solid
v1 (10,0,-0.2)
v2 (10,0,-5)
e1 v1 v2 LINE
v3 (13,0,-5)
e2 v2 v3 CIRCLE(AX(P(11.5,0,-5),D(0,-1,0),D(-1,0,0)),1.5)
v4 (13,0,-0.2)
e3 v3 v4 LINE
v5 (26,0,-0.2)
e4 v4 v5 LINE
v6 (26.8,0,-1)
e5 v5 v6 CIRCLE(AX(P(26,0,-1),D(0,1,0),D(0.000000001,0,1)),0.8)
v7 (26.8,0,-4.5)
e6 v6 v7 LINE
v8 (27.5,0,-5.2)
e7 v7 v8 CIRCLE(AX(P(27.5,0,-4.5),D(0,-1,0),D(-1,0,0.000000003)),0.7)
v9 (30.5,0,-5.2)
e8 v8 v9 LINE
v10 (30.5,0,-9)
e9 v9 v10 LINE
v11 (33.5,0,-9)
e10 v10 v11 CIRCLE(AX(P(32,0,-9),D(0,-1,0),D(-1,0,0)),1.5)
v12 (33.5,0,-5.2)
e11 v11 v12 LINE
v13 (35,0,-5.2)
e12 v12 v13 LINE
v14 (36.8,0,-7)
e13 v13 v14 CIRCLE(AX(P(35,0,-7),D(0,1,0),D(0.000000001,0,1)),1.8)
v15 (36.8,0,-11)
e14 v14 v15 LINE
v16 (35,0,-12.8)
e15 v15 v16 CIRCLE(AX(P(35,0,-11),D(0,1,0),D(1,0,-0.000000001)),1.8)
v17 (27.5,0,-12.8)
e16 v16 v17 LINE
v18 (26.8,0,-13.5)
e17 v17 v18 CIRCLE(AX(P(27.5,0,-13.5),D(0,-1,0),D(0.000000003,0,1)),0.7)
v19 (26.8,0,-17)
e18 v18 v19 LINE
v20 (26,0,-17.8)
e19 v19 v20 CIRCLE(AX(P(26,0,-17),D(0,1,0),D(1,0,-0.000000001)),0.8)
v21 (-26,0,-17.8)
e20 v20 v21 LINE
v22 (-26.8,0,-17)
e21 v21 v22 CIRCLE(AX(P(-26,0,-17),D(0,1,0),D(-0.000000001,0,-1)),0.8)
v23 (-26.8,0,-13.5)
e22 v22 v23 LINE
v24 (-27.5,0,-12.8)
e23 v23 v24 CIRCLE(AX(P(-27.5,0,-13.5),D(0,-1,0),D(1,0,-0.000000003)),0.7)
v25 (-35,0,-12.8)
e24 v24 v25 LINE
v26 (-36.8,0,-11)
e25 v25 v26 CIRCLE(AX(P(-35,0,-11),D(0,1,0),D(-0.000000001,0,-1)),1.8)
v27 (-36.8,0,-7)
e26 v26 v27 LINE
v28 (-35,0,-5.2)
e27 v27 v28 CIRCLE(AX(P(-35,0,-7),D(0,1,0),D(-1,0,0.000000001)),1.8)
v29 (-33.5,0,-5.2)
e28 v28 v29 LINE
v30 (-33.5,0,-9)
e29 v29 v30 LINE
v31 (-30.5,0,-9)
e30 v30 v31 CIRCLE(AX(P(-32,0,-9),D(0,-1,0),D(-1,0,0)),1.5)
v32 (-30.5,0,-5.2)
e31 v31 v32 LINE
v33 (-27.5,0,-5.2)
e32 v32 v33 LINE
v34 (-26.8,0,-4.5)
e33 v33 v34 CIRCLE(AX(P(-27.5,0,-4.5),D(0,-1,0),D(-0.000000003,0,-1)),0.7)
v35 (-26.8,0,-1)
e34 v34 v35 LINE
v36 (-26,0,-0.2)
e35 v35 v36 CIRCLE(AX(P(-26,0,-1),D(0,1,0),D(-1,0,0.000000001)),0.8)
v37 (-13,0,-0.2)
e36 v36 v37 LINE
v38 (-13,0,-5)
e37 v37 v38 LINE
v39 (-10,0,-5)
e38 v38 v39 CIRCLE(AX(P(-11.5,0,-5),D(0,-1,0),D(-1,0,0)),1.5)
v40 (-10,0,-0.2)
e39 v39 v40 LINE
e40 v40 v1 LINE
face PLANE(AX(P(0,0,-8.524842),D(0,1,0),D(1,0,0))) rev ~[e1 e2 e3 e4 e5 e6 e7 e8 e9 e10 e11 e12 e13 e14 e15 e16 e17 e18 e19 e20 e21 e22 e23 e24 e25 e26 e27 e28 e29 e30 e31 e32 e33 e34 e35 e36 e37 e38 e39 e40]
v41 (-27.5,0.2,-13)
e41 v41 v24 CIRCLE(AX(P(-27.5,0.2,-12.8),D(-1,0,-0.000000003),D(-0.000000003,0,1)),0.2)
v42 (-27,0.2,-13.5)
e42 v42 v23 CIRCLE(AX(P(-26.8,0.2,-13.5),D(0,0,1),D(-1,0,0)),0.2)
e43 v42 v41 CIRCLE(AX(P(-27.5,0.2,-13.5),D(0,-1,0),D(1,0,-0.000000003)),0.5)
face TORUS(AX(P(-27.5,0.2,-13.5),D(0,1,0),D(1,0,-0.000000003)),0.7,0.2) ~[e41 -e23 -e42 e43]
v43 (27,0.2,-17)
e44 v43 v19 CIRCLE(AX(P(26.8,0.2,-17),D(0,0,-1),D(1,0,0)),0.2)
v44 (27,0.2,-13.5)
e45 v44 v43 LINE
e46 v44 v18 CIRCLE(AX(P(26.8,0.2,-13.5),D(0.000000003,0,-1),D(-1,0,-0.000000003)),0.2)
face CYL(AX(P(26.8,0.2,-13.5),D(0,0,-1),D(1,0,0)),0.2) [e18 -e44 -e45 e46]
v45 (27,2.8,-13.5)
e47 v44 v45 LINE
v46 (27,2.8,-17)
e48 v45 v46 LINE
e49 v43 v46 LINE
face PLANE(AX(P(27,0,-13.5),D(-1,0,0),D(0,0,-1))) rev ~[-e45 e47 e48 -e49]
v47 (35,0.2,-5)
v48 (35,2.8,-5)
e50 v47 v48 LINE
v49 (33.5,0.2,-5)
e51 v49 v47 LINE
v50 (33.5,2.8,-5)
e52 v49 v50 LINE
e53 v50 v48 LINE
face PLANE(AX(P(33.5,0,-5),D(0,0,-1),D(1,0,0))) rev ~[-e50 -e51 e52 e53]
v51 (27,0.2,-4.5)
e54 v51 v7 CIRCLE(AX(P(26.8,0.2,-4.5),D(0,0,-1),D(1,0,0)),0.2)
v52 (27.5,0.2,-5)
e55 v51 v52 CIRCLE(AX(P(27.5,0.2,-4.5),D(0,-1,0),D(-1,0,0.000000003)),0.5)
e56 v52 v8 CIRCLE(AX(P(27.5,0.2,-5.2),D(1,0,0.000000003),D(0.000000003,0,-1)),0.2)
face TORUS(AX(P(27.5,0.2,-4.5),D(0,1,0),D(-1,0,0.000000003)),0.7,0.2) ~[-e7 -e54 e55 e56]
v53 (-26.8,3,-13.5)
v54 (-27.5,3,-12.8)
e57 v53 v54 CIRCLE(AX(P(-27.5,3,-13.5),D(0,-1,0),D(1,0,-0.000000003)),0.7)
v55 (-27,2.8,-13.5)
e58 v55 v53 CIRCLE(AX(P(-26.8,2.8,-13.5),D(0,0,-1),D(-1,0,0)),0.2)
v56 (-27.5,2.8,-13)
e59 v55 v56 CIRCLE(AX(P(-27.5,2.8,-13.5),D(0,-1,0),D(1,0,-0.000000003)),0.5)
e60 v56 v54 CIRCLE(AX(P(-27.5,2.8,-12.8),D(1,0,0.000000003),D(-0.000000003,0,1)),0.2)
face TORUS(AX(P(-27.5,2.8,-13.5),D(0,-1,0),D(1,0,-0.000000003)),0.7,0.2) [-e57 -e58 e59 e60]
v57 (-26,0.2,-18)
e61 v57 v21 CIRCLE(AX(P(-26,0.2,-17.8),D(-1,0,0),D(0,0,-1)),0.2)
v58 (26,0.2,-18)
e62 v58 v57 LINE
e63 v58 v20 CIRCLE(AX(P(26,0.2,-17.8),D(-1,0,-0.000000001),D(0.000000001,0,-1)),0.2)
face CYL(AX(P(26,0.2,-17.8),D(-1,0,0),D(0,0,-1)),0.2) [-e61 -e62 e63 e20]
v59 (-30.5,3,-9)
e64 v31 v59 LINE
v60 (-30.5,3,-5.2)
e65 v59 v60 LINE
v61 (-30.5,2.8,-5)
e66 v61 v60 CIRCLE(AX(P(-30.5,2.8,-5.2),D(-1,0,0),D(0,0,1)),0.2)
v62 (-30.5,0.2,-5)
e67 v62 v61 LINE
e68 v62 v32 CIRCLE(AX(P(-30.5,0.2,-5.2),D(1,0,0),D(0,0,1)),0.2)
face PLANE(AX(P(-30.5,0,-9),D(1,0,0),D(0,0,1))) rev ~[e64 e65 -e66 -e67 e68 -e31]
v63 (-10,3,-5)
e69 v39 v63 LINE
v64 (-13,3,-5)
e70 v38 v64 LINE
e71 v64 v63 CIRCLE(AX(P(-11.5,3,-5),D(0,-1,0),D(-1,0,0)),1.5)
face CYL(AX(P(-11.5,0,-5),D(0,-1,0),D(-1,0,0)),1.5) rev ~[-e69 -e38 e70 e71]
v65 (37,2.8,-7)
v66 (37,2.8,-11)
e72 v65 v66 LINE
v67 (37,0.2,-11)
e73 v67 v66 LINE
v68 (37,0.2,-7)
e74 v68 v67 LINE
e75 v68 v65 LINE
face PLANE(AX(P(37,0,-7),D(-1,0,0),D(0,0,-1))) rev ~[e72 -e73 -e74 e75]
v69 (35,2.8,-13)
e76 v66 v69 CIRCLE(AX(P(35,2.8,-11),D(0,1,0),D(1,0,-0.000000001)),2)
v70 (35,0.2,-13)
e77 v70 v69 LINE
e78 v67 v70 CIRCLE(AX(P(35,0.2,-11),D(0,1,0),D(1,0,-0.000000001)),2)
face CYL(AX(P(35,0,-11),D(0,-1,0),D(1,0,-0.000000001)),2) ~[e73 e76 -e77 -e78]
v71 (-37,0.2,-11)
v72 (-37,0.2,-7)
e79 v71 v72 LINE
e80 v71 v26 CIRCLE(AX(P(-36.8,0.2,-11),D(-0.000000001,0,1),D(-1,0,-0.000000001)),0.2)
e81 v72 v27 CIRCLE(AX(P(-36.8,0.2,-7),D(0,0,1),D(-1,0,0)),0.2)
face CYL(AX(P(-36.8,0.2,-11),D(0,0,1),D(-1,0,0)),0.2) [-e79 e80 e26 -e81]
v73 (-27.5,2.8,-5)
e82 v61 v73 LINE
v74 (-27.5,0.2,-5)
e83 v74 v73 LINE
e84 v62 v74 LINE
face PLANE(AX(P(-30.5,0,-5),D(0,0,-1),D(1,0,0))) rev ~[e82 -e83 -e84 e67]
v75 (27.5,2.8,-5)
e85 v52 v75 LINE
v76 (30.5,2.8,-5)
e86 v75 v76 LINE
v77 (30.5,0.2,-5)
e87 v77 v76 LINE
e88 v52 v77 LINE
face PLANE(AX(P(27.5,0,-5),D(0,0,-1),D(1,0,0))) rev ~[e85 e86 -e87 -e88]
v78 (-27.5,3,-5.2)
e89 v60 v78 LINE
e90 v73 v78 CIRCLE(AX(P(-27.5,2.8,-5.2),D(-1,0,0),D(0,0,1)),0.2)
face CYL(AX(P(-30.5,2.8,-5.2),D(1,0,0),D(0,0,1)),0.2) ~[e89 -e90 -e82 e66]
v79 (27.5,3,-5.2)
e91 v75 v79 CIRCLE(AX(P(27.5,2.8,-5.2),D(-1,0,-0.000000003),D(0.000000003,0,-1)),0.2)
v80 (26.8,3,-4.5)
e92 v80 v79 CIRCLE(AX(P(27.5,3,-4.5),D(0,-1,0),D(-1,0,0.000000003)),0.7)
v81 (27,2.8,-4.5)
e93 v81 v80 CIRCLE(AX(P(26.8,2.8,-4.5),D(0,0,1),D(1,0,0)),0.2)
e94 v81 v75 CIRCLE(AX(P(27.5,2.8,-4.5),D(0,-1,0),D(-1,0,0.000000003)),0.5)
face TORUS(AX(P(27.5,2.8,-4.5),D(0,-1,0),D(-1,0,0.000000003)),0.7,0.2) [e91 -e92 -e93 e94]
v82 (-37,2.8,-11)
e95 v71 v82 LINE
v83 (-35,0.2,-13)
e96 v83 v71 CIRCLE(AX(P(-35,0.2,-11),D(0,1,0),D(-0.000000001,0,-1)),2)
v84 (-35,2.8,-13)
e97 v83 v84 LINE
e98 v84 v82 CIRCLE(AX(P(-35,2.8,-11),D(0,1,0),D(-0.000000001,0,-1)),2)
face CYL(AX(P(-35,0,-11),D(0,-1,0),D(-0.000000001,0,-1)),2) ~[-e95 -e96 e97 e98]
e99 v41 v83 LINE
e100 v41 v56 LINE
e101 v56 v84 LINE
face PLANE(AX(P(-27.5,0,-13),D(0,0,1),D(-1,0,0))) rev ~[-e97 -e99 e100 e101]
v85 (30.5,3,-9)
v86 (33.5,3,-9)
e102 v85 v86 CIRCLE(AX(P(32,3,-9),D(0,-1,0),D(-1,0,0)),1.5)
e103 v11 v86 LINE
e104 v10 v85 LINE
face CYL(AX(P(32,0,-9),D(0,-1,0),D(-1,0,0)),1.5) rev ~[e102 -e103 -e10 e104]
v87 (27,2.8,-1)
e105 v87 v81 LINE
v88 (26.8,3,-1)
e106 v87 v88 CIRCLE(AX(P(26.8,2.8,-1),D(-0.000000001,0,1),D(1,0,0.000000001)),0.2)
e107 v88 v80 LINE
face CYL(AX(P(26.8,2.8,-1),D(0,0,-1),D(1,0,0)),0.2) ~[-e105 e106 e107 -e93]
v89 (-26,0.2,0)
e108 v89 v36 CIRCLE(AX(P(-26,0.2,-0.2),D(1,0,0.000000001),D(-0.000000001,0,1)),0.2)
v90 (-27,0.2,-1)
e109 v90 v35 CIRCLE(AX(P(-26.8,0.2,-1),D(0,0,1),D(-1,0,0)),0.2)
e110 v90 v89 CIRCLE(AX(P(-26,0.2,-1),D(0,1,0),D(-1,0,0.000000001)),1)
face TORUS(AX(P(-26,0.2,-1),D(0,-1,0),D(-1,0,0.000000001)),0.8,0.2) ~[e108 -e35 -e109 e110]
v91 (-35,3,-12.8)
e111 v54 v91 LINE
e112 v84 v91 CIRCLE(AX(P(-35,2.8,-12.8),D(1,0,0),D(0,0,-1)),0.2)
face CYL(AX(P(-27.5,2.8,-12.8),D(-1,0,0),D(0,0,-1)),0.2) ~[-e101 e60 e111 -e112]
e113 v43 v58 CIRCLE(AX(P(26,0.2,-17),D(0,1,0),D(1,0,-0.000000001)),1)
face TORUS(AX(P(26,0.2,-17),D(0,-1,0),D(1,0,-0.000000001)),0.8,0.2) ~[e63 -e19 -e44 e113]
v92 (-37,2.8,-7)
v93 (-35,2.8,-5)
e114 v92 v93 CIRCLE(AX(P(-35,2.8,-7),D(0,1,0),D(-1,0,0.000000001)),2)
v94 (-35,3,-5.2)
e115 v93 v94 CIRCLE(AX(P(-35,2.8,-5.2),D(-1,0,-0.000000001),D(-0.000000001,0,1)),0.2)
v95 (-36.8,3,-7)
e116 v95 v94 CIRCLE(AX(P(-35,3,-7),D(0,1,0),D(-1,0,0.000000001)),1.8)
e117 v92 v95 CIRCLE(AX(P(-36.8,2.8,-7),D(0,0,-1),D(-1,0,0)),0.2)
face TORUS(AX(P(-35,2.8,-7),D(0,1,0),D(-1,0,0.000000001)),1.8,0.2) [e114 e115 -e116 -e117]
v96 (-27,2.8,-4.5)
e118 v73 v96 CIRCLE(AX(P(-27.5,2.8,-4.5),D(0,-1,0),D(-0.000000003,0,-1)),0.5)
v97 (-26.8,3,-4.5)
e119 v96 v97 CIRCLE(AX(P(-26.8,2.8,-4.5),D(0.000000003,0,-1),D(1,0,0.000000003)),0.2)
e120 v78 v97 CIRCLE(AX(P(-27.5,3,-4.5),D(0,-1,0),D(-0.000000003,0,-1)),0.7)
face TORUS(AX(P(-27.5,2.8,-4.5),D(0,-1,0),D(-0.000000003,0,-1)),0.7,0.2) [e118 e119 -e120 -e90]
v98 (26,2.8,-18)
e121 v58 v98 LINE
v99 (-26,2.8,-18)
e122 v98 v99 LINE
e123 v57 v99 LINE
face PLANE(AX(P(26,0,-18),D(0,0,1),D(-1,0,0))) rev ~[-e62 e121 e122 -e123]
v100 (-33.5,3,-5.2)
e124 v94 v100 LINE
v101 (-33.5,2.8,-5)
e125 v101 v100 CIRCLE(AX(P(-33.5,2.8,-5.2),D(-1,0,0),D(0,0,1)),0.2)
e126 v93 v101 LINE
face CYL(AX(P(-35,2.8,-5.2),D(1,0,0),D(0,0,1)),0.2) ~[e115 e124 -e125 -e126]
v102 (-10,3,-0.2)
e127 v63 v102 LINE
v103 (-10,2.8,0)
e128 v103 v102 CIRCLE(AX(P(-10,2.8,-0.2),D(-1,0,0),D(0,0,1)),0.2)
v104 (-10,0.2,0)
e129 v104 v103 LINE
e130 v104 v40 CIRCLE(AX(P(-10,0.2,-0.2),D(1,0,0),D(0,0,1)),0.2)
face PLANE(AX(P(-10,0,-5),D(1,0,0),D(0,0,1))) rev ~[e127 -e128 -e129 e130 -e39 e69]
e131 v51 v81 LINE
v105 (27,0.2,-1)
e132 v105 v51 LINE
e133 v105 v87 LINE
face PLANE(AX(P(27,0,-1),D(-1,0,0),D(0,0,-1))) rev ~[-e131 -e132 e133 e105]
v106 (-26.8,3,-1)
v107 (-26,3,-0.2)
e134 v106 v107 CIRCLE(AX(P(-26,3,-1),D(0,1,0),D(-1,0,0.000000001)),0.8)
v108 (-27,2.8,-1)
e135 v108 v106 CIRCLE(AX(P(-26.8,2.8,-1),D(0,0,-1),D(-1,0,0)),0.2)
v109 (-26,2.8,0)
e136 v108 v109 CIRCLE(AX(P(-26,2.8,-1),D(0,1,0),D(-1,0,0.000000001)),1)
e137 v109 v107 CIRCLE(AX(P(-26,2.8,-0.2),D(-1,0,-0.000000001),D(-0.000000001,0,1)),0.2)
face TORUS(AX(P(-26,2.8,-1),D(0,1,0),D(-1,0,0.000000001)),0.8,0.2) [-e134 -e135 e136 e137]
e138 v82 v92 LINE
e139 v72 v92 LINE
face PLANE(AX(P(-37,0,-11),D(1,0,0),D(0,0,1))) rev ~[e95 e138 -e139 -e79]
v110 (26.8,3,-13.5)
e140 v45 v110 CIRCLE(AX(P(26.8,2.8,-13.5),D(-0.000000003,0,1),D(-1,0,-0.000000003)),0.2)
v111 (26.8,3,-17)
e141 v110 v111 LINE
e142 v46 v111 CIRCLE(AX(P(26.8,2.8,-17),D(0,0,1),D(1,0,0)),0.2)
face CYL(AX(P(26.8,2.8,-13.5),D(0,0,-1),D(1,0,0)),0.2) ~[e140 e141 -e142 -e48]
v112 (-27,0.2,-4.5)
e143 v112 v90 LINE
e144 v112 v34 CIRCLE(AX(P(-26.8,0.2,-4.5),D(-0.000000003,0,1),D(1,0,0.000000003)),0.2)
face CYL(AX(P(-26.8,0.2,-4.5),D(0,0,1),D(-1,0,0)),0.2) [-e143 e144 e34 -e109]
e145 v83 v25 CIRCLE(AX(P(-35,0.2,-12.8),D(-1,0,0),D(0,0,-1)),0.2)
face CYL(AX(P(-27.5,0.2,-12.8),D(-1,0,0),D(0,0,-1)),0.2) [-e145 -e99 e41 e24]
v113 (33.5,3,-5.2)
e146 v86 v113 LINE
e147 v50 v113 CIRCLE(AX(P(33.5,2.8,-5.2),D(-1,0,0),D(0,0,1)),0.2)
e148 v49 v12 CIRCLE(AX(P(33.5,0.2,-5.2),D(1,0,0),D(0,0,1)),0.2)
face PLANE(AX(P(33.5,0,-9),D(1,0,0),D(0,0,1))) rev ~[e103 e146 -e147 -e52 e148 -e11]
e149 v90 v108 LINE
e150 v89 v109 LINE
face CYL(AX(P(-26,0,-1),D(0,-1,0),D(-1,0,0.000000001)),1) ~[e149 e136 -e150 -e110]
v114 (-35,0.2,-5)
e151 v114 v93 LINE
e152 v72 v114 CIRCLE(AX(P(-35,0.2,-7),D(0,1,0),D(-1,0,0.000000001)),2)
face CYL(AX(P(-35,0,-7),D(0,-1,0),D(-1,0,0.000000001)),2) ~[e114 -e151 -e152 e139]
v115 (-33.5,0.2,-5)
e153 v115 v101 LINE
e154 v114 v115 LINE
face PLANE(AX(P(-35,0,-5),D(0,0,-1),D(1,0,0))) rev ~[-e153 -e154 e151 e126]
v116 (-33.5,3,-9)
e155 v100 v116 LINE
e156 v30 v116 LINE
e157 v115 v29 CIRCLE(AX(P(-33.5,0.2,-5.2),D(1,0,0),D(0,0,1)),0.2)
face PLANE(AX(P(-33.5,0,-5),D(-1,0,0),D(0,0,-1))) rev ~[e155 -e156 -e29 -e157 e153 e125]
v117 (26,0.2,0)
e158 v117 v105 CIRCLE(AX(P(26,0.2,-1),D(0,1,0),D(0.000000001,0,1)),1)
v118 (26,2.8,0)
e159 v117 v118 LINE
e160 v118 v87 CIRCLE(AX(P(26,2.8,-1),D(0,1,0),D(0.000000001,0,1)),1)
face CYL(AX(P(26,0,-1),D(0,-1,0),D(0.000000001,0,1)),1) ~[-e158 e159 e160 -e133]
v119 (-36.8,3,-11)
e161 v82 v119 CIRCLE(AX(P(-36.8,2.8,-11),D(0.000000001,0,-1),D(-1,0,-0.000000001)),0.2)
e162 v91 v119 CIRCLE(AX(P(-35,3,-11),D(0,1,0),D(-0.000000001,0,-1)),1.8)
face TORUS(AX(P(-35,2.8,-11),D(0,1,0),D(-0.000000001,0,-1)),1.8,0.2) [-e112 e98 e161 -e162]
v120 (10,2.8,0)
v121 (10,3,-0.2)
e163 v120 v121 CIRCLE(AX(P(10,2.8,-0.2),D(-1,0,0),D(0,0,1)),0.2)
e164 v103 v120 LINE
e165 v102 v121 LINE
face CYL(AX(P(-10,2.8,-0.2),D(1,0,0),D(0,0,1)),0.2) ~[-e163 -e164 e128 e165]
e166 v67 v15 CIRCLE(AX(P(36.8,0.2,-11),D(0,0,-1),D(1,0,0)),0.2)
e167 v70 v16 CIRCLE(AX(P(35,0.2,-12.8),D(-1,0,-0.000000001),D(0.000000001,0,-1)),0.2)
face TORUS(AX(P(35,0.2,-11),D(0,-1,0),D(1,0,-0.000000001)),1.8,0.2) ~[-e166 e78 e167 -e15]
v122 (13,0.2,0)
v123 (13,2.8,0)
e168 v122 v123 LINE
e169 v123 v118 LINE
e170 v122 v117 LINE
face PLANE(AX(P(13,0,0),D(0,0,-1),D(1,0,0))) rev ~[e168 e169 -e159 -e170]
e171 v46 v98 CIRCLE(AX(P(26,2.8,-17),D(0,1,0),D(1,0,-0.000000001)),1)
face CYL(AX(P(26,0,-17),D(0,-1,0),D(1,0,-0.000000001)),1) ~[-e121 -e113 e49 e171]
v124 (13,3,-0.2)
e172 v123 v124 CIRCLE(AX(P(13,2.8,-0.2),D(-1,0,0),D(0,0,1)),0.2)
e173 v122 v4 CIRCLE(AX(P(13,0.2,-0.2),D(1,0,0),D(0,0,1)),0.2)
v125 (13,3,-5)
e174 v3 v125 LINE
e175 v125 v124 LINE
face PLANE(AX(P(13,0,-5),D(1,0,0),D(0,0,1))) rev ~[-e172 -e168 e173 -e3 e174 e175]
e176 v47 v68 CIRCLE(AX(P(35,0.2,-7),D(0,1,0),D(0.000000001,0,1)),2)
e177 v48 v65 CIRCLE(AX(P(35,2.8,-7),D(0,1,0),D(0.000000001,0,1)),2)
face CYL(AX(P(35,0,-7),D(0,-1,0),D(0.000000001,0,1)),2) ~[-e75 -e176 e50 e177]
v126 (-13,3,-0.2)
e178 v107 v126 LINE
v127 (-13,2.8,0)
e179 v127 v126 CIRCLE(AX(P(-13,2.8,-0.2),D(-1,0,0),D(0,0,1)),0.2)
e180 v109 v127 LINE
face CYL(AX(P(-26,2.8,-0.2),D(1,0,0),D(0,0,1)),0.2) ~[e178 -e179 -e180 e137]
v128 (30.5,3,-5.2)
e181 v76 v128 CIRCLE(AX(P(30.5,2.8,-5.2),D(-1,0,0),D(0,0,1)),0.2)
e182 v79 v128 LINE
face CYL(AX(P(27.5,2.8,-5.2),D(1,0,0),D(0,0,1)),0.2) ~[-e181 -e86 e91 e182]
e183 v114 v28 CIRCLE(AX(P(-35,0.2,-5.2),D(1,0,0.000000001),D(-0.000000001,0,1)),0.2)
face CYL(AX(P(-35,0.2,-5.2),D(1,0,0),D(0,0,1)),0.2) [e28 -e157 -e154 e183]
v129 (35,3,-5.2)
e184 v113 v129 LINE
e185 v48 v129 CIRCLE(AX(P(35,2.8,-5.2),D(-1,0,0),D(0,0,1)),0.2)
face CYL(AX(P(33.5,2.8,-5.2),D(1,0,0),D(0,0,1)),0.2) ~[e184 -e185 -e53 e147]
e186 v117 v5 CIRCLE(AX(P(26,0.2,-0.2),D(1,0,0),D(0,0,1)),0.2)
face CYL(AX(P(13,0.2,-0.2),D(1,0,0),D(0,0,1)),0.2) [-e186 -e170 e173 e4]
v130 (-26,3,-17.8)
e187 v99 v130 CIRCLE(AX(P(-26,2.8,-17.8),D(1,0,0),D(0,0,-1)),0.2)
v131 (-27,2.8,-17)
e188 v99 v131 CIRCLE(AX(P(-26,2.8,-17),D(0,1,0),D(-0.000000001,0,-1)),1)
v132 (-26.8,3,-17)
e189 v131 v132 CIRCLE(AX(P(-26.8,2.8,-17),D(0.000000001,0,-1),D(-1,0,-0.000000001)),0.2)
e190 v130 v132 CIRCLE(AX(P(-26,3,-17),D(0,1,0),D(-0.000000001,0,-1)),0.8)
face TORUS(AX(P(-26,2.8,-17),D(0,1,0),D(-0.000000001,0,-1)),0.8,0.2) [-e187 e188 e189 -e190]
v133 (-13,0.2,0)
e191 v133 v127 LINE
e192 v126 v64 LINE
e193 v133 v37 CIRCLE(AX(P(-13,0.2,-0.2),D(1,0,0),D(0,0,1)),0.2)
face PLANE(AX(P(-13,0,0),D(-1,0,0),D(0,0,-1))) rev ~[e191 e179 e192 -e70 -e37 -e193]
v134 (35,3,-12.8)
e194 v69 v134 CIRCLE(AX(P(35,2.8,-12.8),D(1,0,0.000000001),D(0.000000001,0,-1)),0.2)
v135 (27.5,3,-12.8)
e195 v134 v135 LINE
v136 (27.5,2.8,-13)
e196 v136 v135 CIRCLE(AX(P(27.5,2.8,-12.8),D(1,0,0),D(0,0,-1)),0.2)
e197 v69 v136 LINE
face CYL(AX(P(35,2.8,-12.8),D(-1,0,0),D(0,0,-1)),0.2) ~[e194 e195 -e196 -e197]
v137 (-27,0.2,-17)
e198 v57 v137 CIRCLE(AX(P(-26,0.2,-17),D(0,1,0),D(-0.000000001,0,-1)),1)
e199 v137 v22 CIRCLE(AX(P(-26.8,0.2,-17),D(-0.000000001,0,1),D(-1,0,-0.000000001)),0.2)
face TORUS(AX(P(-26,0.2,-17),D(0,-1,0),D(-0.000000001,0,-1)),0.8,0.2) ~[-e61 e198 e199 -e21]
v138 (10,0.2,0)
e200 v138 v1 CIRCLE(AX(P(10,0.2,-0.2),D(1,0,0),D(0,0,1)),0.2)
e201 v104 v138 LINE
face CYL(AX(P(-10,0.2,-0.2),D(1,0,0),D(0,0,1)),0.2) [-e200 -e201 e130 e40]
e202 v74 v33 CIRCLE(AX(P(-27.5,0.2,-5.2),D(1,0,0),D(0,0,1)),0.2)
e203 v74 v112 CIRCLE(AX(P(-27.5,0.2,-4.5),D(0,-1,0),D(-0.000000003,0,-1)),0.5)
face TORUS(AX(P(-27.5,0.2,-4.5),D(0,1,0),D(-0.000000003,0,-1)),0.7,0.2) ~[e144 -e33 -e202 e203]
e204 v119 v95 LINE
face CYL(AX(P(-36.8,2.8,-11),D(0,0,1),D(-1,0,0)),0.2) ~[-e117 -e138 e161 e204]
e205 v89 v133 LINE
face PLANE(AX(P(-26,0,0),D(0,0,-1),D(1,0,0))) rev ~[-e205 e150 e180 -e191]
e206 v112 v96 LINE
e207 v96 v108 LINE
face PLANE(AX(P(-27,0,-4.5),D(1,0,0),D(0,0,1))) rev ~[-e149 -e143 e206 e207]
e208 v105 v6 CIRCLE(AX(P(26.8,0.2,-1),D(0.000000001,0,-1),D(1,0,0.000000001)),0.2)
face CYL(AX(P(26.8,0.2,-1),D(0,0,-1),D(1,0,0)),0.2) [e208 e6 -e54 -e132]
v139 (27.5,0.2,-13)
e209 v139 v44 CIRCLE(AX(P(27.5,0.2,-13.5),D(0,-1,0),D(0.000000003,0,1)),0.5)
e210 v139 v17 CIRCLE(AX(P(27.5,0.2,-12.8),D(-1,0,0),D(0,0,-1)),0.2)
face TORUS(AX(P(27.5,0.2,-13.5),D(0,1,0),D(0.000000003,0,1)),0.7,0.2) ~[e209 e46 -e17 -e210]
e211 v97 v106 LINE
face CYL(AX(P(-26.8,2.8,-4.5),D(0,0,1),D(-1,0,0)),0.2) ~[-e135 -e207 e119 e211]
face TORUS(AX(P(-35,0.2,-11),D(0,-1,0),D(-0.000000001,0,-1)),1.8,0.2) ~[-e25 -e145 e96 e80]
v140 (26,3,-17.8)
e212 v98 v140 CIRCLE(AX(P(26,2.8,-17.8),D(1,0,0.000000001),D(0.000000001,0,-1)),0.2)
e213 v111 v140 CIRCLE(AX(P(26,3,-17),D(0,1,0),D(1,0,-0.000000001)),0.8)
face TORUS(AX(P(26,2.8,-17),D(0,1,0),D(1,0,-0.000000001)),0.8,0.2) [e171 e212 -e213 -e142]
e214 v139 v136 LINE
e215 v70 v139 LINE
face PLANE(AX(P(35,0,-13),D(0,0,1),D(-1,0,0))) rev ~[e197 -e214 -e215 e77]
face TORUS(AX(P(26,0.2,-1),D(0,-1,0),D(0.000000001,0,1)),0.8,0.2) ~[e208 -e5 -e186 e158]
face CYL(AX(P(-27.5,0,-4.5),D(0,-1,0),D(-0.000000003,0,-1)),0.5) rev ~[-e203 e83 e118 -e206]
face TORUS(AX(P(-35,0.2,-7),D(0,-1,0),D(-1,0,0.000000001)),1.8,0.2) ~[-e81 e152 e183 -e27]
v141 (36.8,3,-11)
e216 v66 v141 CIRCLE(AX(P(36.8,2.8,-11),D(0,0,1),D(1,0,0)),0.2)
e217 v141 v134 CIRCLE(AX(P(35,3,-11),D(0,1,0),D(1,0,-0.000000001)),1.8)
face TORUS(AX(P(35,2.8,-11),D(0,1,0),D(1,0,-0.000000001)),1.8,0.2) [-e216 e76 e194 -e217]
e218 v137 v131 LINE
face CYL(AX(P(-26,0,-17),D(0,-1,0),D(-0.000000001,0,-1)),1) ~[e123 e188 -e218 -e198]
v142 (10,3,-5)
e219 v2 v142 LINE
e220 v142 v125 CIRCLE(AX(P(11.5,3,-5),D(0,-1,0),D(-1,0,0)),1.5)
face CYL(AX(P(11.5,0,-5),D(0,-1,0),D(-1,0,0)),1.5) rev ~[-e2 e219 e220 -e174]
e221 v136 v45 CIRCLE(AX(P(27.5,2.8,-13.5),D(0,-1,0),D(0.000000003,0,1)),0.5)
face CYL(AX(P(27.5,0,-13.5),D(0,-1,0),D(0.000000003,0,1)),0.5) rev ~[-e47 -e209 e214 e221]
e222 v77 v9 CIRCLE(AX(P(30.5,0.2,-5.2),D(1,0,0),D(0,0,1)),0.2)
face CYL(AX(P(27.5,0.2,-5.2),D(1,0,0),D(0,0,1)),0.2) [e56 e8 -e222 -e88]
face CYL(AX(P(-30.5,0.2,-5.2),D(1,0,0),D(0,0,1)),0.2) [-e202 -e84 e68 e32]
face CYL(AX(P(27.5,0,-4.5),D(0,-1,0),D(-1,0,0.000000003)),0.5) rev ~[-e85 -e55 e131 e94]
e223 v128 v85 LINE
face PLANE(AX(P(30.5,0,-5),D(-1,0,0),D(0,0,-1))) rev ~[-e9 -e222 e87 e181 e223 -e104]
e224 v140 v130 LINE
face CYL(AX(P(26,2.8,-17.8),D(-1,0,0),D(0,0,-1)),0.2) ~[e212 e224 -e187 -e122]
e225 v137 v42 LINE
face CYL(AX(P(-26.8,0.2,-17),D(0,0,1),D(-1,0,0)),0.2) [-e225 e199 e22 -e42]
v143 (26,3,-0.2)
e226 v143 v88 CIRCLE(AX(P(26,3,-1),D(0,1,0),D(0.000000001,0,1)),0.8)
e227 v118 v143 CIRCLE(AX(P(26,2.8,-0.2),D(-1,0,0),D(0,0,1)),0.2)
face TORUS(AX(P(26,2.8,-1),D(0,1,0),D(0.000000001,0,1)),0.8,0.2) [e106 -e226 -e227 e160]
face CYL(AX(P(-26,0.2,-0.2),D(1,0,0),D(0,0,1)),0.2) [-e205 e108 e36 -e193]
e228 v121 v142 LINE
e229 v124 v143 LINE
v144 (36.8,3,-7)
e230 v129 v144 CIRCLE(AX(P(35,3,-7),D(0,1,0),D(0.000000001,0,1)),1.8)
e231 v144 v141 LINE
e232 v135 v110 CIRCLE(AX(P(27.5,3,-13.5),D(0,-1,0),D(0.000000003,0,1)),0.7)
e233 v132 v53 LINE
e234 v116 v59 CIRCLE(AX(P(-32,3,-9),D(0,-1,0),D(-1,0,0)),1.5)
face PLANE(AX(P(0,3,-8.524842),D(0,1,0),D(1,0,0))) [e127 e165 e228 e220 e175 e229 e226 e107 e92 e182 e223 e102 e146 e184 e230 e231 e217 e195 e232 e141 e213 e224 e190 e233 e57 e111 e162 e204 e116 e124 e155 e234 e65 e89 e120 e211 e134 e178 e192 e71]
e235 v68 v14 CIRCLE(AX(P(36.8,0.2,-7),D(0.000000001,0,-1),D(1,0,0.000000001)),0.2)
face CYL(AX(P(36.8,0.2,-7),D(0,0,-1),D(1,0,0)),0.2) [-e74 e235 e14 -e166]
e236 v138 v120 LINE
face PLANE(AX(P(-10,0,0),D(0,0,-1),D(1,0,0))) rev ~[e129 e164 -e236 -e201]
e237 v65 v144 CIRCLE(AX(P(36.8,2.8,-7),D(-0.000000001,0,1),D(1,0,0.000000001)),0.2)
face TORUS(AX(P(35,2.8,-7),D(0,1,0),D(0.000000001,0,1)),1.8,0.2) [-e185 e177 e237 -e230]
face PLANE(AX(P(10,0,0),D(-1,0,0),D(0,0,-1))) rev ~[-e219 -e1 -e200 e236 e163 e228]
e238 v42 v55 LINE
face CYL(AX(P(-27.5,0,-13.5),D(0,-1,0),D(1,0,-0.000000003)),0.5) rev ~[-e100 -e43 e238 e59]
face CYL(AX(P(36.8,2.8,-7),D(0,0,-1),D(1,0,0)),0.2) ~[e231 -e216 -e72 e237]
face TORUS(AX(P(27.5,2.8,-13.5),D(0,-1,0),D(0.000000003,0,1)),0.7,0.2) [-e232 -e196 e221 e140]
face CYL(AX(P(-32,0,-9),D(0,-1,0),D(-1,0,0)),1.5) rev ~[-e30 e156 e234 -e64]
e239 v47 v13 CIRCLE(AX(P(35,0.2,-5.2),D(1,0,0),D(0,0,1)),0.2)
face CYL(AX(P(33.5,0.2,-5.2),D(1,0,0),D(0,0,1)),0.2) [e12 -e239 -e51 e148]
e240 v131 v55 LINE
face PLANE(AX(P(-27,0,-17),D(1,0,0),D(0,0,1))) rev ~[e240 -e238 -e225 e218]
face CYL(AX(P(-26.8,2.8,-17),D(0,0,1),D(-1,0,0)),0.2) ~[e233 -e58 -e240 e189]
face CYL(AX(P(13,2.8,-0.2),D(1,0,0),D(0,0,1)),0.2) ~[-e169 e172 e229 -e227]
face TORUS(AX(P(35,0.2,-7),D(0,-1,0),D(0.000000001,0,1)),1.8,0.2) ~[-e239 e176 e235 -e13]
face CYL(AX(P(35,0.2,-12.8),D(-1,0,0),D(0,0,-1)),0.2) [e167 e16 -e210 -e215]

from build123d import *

# Parameters (mm, degrees)
BOSS_EXTRUDE1_DEPTH = 3
FILLET1_R           = 0.2


with BuildPart() as part:
    # Sketch1 → Boss-Extrude1 (new body)
    with BuildSketch(Plane(origin=(0, 0, 0), x_dir=(1, 0, 0), z_dir=(0, 1, 0))):
        with BuildLine():
            Line((-10, 5), (-10, 0))
            Line((-10, 0), (10, 0))
            Line((10, 0), (10, 5))
            ThreePointArc((10, 5), (11.5, 6.5), (13, 5))
            Line((13, 5), (13, 0))
            Line((13, 0), (26, 0))
            ThreePointArc((26, 0), (26.707106781, 0.292893219), (27, 1))
            Line((27, 1), (27, 4.5))
            ThreePointArc((27, 4.5), (27.146446609, 4.853553391), (27.5, 5))
            Line((27.5, 5), (30.5, 5))
            Line((30.5, 5), (30.5, 9))
            ThreePointArc((30.5, 9), (32, 10.5), (33.5, 9))
            Line((33.5, 9), (33.5, 5))
            Line((33.5, 5), (35, 5))
            ThreePointArc((35, 5), (36.414213562, 5.585786438), (37, 7))
            Line((37, 7), (37, 11))
            ThreePointArc((37, 11), (36.414213562, 12.414213562), (35, 13))
            Line((35, 13), (27.5, 13))
            ThreePointArc((27.5, 13), (27.146446609, 13.146446609), (27, 13.5))
            Line((27, 13.5), (27, 17))
            ThreePointArc((27, 17), (26.707106781, 17.707106781), (26, 18))
            Line((26, 18), (-26, 18))
            ThreePointArc((-26, 18), (-26.707106781, 17.707106781), (-27, 17))
            Line((-27, 17), (-27, 13.5))
            ThreePointArc((-27, 13.5), (-27.146446609, 13.146446609), (-27.5, 13))
            Line((-27.5, 13), (-35, 13))
            ThreePointArc((-35, 13), (-36.414213562, 12.414213562), (-37, 11))
            Line((-37, 11), (-37, 7))
            ThreePointArc((-37, 7), (-36.414213562, 5.585786438), (-35, 5))
            Line((-35, 5), (-33.5, 5))
            Line((-33.5, 5), (-33.5, 9))
            ThreePointArc((-33.5, 9), (-32, 10.5), (-30.5, 9))
            Line((-30.5, 9), (-30.5, 5))
            Line((-30.5, 5), (-27.5, 5))
            ThreePointArc((-27.5, 5), (-27.146446609, 4.853553391), (-27, 4.5))
            Line((-27, 4.5), (-27, 1))
            ThreePointArc((-27, 1), (-26.707106781, 0.292893219), (-26, 0))
            Line((-26, 0), (-13, 0))
            Line((-13, 0), (-13, 5))
            ThreePointArc((-13, 5), (-11.5, 6.5), (-10, 5))
        make_face()
    extrude(amount=BOSS_EXTRUDE1_DEPTH)

    # Fillet1
    fillet1_edges = [part.edges().sort_by_distance(p)[0] for p in [
        (0, 3, 0),
        (-29, 3, -5),
        (-27.146446609, 3, -4.853553391),
        (-27, 3, -2.75),
        (-26.707106781, 3, -0.292893219),
        (-19.5, 3, 0),
        (19.5, 3, 0),
        (26.707106781, 3, -0.292893219),
        (27, 3, -2.75),
        (27.146446609, 3, -4.853553391),
        (-19.5, 0, 0),
        (29, 3, -5),
        (-26.707106781, 0, -0.292893219),
        (-27, 0, -2.75),
        (-27.146446609, 0, -4.853553391),
        (-29, 0, -5),
        (-34.25, 0, -5),
        (-36.414213562, 0, -5.585786438),
        (-37, 0, -9),
        (-36.414213562, 0, -12.414213562),
        (-31.25, 0, -13),
        (-27.146446609, 0, -13.146446609),
        (-27, 0, -15.25),
        (-26.707106781, 0, -17.707106781),
        (0, 0, -18),
        (26.707106781, 0, -17.707106781),
        (27, 0, -15.25),
        (27.146446609, 0, -13.146446609),
        (31.25, 0, -13),
        (36.414213562, 0, -12.414213562),
        (37, 0, -9),
        (36.414213562, 0, -5.585786438),
        (34.25, 0, -5),
        (29, 0, -5),
        (27.146446609, 0, -4.853553391),
        (27, 0, -2.75),
        (34.25, 3, -5),
        (26.707106781, 0, -0.292893219),
        (19.5, 0, 0),
        (0, 0, 0),
        (36.414213562, 3, -5.585786438),
        (37, 3, -9),
        (36.414213562, 3, -12.414213562),
        (31.25, 3, -13),
        (27.146446609, 3, -13.146446609),
        (27, 3, -15.25),
        (26.707106781, 3, -17.707106781),
        (0, 3, -18),
        (-26.707106781, 3, -17.707106781),
        (-27, 3, -15.25),
        (-27.146446609, 3, -13.146446609),
        (-31.25, 3, -13),
        (-36.414213562, 3, -12.414213562),
        (-37, 3, -9),
        (-36.414213562, 3, -5.585786438),
        (-34.25, 3, -5),
    ]]
    fillet(fillet1_edges, radius=FILLET1_R)


solid = part.part
